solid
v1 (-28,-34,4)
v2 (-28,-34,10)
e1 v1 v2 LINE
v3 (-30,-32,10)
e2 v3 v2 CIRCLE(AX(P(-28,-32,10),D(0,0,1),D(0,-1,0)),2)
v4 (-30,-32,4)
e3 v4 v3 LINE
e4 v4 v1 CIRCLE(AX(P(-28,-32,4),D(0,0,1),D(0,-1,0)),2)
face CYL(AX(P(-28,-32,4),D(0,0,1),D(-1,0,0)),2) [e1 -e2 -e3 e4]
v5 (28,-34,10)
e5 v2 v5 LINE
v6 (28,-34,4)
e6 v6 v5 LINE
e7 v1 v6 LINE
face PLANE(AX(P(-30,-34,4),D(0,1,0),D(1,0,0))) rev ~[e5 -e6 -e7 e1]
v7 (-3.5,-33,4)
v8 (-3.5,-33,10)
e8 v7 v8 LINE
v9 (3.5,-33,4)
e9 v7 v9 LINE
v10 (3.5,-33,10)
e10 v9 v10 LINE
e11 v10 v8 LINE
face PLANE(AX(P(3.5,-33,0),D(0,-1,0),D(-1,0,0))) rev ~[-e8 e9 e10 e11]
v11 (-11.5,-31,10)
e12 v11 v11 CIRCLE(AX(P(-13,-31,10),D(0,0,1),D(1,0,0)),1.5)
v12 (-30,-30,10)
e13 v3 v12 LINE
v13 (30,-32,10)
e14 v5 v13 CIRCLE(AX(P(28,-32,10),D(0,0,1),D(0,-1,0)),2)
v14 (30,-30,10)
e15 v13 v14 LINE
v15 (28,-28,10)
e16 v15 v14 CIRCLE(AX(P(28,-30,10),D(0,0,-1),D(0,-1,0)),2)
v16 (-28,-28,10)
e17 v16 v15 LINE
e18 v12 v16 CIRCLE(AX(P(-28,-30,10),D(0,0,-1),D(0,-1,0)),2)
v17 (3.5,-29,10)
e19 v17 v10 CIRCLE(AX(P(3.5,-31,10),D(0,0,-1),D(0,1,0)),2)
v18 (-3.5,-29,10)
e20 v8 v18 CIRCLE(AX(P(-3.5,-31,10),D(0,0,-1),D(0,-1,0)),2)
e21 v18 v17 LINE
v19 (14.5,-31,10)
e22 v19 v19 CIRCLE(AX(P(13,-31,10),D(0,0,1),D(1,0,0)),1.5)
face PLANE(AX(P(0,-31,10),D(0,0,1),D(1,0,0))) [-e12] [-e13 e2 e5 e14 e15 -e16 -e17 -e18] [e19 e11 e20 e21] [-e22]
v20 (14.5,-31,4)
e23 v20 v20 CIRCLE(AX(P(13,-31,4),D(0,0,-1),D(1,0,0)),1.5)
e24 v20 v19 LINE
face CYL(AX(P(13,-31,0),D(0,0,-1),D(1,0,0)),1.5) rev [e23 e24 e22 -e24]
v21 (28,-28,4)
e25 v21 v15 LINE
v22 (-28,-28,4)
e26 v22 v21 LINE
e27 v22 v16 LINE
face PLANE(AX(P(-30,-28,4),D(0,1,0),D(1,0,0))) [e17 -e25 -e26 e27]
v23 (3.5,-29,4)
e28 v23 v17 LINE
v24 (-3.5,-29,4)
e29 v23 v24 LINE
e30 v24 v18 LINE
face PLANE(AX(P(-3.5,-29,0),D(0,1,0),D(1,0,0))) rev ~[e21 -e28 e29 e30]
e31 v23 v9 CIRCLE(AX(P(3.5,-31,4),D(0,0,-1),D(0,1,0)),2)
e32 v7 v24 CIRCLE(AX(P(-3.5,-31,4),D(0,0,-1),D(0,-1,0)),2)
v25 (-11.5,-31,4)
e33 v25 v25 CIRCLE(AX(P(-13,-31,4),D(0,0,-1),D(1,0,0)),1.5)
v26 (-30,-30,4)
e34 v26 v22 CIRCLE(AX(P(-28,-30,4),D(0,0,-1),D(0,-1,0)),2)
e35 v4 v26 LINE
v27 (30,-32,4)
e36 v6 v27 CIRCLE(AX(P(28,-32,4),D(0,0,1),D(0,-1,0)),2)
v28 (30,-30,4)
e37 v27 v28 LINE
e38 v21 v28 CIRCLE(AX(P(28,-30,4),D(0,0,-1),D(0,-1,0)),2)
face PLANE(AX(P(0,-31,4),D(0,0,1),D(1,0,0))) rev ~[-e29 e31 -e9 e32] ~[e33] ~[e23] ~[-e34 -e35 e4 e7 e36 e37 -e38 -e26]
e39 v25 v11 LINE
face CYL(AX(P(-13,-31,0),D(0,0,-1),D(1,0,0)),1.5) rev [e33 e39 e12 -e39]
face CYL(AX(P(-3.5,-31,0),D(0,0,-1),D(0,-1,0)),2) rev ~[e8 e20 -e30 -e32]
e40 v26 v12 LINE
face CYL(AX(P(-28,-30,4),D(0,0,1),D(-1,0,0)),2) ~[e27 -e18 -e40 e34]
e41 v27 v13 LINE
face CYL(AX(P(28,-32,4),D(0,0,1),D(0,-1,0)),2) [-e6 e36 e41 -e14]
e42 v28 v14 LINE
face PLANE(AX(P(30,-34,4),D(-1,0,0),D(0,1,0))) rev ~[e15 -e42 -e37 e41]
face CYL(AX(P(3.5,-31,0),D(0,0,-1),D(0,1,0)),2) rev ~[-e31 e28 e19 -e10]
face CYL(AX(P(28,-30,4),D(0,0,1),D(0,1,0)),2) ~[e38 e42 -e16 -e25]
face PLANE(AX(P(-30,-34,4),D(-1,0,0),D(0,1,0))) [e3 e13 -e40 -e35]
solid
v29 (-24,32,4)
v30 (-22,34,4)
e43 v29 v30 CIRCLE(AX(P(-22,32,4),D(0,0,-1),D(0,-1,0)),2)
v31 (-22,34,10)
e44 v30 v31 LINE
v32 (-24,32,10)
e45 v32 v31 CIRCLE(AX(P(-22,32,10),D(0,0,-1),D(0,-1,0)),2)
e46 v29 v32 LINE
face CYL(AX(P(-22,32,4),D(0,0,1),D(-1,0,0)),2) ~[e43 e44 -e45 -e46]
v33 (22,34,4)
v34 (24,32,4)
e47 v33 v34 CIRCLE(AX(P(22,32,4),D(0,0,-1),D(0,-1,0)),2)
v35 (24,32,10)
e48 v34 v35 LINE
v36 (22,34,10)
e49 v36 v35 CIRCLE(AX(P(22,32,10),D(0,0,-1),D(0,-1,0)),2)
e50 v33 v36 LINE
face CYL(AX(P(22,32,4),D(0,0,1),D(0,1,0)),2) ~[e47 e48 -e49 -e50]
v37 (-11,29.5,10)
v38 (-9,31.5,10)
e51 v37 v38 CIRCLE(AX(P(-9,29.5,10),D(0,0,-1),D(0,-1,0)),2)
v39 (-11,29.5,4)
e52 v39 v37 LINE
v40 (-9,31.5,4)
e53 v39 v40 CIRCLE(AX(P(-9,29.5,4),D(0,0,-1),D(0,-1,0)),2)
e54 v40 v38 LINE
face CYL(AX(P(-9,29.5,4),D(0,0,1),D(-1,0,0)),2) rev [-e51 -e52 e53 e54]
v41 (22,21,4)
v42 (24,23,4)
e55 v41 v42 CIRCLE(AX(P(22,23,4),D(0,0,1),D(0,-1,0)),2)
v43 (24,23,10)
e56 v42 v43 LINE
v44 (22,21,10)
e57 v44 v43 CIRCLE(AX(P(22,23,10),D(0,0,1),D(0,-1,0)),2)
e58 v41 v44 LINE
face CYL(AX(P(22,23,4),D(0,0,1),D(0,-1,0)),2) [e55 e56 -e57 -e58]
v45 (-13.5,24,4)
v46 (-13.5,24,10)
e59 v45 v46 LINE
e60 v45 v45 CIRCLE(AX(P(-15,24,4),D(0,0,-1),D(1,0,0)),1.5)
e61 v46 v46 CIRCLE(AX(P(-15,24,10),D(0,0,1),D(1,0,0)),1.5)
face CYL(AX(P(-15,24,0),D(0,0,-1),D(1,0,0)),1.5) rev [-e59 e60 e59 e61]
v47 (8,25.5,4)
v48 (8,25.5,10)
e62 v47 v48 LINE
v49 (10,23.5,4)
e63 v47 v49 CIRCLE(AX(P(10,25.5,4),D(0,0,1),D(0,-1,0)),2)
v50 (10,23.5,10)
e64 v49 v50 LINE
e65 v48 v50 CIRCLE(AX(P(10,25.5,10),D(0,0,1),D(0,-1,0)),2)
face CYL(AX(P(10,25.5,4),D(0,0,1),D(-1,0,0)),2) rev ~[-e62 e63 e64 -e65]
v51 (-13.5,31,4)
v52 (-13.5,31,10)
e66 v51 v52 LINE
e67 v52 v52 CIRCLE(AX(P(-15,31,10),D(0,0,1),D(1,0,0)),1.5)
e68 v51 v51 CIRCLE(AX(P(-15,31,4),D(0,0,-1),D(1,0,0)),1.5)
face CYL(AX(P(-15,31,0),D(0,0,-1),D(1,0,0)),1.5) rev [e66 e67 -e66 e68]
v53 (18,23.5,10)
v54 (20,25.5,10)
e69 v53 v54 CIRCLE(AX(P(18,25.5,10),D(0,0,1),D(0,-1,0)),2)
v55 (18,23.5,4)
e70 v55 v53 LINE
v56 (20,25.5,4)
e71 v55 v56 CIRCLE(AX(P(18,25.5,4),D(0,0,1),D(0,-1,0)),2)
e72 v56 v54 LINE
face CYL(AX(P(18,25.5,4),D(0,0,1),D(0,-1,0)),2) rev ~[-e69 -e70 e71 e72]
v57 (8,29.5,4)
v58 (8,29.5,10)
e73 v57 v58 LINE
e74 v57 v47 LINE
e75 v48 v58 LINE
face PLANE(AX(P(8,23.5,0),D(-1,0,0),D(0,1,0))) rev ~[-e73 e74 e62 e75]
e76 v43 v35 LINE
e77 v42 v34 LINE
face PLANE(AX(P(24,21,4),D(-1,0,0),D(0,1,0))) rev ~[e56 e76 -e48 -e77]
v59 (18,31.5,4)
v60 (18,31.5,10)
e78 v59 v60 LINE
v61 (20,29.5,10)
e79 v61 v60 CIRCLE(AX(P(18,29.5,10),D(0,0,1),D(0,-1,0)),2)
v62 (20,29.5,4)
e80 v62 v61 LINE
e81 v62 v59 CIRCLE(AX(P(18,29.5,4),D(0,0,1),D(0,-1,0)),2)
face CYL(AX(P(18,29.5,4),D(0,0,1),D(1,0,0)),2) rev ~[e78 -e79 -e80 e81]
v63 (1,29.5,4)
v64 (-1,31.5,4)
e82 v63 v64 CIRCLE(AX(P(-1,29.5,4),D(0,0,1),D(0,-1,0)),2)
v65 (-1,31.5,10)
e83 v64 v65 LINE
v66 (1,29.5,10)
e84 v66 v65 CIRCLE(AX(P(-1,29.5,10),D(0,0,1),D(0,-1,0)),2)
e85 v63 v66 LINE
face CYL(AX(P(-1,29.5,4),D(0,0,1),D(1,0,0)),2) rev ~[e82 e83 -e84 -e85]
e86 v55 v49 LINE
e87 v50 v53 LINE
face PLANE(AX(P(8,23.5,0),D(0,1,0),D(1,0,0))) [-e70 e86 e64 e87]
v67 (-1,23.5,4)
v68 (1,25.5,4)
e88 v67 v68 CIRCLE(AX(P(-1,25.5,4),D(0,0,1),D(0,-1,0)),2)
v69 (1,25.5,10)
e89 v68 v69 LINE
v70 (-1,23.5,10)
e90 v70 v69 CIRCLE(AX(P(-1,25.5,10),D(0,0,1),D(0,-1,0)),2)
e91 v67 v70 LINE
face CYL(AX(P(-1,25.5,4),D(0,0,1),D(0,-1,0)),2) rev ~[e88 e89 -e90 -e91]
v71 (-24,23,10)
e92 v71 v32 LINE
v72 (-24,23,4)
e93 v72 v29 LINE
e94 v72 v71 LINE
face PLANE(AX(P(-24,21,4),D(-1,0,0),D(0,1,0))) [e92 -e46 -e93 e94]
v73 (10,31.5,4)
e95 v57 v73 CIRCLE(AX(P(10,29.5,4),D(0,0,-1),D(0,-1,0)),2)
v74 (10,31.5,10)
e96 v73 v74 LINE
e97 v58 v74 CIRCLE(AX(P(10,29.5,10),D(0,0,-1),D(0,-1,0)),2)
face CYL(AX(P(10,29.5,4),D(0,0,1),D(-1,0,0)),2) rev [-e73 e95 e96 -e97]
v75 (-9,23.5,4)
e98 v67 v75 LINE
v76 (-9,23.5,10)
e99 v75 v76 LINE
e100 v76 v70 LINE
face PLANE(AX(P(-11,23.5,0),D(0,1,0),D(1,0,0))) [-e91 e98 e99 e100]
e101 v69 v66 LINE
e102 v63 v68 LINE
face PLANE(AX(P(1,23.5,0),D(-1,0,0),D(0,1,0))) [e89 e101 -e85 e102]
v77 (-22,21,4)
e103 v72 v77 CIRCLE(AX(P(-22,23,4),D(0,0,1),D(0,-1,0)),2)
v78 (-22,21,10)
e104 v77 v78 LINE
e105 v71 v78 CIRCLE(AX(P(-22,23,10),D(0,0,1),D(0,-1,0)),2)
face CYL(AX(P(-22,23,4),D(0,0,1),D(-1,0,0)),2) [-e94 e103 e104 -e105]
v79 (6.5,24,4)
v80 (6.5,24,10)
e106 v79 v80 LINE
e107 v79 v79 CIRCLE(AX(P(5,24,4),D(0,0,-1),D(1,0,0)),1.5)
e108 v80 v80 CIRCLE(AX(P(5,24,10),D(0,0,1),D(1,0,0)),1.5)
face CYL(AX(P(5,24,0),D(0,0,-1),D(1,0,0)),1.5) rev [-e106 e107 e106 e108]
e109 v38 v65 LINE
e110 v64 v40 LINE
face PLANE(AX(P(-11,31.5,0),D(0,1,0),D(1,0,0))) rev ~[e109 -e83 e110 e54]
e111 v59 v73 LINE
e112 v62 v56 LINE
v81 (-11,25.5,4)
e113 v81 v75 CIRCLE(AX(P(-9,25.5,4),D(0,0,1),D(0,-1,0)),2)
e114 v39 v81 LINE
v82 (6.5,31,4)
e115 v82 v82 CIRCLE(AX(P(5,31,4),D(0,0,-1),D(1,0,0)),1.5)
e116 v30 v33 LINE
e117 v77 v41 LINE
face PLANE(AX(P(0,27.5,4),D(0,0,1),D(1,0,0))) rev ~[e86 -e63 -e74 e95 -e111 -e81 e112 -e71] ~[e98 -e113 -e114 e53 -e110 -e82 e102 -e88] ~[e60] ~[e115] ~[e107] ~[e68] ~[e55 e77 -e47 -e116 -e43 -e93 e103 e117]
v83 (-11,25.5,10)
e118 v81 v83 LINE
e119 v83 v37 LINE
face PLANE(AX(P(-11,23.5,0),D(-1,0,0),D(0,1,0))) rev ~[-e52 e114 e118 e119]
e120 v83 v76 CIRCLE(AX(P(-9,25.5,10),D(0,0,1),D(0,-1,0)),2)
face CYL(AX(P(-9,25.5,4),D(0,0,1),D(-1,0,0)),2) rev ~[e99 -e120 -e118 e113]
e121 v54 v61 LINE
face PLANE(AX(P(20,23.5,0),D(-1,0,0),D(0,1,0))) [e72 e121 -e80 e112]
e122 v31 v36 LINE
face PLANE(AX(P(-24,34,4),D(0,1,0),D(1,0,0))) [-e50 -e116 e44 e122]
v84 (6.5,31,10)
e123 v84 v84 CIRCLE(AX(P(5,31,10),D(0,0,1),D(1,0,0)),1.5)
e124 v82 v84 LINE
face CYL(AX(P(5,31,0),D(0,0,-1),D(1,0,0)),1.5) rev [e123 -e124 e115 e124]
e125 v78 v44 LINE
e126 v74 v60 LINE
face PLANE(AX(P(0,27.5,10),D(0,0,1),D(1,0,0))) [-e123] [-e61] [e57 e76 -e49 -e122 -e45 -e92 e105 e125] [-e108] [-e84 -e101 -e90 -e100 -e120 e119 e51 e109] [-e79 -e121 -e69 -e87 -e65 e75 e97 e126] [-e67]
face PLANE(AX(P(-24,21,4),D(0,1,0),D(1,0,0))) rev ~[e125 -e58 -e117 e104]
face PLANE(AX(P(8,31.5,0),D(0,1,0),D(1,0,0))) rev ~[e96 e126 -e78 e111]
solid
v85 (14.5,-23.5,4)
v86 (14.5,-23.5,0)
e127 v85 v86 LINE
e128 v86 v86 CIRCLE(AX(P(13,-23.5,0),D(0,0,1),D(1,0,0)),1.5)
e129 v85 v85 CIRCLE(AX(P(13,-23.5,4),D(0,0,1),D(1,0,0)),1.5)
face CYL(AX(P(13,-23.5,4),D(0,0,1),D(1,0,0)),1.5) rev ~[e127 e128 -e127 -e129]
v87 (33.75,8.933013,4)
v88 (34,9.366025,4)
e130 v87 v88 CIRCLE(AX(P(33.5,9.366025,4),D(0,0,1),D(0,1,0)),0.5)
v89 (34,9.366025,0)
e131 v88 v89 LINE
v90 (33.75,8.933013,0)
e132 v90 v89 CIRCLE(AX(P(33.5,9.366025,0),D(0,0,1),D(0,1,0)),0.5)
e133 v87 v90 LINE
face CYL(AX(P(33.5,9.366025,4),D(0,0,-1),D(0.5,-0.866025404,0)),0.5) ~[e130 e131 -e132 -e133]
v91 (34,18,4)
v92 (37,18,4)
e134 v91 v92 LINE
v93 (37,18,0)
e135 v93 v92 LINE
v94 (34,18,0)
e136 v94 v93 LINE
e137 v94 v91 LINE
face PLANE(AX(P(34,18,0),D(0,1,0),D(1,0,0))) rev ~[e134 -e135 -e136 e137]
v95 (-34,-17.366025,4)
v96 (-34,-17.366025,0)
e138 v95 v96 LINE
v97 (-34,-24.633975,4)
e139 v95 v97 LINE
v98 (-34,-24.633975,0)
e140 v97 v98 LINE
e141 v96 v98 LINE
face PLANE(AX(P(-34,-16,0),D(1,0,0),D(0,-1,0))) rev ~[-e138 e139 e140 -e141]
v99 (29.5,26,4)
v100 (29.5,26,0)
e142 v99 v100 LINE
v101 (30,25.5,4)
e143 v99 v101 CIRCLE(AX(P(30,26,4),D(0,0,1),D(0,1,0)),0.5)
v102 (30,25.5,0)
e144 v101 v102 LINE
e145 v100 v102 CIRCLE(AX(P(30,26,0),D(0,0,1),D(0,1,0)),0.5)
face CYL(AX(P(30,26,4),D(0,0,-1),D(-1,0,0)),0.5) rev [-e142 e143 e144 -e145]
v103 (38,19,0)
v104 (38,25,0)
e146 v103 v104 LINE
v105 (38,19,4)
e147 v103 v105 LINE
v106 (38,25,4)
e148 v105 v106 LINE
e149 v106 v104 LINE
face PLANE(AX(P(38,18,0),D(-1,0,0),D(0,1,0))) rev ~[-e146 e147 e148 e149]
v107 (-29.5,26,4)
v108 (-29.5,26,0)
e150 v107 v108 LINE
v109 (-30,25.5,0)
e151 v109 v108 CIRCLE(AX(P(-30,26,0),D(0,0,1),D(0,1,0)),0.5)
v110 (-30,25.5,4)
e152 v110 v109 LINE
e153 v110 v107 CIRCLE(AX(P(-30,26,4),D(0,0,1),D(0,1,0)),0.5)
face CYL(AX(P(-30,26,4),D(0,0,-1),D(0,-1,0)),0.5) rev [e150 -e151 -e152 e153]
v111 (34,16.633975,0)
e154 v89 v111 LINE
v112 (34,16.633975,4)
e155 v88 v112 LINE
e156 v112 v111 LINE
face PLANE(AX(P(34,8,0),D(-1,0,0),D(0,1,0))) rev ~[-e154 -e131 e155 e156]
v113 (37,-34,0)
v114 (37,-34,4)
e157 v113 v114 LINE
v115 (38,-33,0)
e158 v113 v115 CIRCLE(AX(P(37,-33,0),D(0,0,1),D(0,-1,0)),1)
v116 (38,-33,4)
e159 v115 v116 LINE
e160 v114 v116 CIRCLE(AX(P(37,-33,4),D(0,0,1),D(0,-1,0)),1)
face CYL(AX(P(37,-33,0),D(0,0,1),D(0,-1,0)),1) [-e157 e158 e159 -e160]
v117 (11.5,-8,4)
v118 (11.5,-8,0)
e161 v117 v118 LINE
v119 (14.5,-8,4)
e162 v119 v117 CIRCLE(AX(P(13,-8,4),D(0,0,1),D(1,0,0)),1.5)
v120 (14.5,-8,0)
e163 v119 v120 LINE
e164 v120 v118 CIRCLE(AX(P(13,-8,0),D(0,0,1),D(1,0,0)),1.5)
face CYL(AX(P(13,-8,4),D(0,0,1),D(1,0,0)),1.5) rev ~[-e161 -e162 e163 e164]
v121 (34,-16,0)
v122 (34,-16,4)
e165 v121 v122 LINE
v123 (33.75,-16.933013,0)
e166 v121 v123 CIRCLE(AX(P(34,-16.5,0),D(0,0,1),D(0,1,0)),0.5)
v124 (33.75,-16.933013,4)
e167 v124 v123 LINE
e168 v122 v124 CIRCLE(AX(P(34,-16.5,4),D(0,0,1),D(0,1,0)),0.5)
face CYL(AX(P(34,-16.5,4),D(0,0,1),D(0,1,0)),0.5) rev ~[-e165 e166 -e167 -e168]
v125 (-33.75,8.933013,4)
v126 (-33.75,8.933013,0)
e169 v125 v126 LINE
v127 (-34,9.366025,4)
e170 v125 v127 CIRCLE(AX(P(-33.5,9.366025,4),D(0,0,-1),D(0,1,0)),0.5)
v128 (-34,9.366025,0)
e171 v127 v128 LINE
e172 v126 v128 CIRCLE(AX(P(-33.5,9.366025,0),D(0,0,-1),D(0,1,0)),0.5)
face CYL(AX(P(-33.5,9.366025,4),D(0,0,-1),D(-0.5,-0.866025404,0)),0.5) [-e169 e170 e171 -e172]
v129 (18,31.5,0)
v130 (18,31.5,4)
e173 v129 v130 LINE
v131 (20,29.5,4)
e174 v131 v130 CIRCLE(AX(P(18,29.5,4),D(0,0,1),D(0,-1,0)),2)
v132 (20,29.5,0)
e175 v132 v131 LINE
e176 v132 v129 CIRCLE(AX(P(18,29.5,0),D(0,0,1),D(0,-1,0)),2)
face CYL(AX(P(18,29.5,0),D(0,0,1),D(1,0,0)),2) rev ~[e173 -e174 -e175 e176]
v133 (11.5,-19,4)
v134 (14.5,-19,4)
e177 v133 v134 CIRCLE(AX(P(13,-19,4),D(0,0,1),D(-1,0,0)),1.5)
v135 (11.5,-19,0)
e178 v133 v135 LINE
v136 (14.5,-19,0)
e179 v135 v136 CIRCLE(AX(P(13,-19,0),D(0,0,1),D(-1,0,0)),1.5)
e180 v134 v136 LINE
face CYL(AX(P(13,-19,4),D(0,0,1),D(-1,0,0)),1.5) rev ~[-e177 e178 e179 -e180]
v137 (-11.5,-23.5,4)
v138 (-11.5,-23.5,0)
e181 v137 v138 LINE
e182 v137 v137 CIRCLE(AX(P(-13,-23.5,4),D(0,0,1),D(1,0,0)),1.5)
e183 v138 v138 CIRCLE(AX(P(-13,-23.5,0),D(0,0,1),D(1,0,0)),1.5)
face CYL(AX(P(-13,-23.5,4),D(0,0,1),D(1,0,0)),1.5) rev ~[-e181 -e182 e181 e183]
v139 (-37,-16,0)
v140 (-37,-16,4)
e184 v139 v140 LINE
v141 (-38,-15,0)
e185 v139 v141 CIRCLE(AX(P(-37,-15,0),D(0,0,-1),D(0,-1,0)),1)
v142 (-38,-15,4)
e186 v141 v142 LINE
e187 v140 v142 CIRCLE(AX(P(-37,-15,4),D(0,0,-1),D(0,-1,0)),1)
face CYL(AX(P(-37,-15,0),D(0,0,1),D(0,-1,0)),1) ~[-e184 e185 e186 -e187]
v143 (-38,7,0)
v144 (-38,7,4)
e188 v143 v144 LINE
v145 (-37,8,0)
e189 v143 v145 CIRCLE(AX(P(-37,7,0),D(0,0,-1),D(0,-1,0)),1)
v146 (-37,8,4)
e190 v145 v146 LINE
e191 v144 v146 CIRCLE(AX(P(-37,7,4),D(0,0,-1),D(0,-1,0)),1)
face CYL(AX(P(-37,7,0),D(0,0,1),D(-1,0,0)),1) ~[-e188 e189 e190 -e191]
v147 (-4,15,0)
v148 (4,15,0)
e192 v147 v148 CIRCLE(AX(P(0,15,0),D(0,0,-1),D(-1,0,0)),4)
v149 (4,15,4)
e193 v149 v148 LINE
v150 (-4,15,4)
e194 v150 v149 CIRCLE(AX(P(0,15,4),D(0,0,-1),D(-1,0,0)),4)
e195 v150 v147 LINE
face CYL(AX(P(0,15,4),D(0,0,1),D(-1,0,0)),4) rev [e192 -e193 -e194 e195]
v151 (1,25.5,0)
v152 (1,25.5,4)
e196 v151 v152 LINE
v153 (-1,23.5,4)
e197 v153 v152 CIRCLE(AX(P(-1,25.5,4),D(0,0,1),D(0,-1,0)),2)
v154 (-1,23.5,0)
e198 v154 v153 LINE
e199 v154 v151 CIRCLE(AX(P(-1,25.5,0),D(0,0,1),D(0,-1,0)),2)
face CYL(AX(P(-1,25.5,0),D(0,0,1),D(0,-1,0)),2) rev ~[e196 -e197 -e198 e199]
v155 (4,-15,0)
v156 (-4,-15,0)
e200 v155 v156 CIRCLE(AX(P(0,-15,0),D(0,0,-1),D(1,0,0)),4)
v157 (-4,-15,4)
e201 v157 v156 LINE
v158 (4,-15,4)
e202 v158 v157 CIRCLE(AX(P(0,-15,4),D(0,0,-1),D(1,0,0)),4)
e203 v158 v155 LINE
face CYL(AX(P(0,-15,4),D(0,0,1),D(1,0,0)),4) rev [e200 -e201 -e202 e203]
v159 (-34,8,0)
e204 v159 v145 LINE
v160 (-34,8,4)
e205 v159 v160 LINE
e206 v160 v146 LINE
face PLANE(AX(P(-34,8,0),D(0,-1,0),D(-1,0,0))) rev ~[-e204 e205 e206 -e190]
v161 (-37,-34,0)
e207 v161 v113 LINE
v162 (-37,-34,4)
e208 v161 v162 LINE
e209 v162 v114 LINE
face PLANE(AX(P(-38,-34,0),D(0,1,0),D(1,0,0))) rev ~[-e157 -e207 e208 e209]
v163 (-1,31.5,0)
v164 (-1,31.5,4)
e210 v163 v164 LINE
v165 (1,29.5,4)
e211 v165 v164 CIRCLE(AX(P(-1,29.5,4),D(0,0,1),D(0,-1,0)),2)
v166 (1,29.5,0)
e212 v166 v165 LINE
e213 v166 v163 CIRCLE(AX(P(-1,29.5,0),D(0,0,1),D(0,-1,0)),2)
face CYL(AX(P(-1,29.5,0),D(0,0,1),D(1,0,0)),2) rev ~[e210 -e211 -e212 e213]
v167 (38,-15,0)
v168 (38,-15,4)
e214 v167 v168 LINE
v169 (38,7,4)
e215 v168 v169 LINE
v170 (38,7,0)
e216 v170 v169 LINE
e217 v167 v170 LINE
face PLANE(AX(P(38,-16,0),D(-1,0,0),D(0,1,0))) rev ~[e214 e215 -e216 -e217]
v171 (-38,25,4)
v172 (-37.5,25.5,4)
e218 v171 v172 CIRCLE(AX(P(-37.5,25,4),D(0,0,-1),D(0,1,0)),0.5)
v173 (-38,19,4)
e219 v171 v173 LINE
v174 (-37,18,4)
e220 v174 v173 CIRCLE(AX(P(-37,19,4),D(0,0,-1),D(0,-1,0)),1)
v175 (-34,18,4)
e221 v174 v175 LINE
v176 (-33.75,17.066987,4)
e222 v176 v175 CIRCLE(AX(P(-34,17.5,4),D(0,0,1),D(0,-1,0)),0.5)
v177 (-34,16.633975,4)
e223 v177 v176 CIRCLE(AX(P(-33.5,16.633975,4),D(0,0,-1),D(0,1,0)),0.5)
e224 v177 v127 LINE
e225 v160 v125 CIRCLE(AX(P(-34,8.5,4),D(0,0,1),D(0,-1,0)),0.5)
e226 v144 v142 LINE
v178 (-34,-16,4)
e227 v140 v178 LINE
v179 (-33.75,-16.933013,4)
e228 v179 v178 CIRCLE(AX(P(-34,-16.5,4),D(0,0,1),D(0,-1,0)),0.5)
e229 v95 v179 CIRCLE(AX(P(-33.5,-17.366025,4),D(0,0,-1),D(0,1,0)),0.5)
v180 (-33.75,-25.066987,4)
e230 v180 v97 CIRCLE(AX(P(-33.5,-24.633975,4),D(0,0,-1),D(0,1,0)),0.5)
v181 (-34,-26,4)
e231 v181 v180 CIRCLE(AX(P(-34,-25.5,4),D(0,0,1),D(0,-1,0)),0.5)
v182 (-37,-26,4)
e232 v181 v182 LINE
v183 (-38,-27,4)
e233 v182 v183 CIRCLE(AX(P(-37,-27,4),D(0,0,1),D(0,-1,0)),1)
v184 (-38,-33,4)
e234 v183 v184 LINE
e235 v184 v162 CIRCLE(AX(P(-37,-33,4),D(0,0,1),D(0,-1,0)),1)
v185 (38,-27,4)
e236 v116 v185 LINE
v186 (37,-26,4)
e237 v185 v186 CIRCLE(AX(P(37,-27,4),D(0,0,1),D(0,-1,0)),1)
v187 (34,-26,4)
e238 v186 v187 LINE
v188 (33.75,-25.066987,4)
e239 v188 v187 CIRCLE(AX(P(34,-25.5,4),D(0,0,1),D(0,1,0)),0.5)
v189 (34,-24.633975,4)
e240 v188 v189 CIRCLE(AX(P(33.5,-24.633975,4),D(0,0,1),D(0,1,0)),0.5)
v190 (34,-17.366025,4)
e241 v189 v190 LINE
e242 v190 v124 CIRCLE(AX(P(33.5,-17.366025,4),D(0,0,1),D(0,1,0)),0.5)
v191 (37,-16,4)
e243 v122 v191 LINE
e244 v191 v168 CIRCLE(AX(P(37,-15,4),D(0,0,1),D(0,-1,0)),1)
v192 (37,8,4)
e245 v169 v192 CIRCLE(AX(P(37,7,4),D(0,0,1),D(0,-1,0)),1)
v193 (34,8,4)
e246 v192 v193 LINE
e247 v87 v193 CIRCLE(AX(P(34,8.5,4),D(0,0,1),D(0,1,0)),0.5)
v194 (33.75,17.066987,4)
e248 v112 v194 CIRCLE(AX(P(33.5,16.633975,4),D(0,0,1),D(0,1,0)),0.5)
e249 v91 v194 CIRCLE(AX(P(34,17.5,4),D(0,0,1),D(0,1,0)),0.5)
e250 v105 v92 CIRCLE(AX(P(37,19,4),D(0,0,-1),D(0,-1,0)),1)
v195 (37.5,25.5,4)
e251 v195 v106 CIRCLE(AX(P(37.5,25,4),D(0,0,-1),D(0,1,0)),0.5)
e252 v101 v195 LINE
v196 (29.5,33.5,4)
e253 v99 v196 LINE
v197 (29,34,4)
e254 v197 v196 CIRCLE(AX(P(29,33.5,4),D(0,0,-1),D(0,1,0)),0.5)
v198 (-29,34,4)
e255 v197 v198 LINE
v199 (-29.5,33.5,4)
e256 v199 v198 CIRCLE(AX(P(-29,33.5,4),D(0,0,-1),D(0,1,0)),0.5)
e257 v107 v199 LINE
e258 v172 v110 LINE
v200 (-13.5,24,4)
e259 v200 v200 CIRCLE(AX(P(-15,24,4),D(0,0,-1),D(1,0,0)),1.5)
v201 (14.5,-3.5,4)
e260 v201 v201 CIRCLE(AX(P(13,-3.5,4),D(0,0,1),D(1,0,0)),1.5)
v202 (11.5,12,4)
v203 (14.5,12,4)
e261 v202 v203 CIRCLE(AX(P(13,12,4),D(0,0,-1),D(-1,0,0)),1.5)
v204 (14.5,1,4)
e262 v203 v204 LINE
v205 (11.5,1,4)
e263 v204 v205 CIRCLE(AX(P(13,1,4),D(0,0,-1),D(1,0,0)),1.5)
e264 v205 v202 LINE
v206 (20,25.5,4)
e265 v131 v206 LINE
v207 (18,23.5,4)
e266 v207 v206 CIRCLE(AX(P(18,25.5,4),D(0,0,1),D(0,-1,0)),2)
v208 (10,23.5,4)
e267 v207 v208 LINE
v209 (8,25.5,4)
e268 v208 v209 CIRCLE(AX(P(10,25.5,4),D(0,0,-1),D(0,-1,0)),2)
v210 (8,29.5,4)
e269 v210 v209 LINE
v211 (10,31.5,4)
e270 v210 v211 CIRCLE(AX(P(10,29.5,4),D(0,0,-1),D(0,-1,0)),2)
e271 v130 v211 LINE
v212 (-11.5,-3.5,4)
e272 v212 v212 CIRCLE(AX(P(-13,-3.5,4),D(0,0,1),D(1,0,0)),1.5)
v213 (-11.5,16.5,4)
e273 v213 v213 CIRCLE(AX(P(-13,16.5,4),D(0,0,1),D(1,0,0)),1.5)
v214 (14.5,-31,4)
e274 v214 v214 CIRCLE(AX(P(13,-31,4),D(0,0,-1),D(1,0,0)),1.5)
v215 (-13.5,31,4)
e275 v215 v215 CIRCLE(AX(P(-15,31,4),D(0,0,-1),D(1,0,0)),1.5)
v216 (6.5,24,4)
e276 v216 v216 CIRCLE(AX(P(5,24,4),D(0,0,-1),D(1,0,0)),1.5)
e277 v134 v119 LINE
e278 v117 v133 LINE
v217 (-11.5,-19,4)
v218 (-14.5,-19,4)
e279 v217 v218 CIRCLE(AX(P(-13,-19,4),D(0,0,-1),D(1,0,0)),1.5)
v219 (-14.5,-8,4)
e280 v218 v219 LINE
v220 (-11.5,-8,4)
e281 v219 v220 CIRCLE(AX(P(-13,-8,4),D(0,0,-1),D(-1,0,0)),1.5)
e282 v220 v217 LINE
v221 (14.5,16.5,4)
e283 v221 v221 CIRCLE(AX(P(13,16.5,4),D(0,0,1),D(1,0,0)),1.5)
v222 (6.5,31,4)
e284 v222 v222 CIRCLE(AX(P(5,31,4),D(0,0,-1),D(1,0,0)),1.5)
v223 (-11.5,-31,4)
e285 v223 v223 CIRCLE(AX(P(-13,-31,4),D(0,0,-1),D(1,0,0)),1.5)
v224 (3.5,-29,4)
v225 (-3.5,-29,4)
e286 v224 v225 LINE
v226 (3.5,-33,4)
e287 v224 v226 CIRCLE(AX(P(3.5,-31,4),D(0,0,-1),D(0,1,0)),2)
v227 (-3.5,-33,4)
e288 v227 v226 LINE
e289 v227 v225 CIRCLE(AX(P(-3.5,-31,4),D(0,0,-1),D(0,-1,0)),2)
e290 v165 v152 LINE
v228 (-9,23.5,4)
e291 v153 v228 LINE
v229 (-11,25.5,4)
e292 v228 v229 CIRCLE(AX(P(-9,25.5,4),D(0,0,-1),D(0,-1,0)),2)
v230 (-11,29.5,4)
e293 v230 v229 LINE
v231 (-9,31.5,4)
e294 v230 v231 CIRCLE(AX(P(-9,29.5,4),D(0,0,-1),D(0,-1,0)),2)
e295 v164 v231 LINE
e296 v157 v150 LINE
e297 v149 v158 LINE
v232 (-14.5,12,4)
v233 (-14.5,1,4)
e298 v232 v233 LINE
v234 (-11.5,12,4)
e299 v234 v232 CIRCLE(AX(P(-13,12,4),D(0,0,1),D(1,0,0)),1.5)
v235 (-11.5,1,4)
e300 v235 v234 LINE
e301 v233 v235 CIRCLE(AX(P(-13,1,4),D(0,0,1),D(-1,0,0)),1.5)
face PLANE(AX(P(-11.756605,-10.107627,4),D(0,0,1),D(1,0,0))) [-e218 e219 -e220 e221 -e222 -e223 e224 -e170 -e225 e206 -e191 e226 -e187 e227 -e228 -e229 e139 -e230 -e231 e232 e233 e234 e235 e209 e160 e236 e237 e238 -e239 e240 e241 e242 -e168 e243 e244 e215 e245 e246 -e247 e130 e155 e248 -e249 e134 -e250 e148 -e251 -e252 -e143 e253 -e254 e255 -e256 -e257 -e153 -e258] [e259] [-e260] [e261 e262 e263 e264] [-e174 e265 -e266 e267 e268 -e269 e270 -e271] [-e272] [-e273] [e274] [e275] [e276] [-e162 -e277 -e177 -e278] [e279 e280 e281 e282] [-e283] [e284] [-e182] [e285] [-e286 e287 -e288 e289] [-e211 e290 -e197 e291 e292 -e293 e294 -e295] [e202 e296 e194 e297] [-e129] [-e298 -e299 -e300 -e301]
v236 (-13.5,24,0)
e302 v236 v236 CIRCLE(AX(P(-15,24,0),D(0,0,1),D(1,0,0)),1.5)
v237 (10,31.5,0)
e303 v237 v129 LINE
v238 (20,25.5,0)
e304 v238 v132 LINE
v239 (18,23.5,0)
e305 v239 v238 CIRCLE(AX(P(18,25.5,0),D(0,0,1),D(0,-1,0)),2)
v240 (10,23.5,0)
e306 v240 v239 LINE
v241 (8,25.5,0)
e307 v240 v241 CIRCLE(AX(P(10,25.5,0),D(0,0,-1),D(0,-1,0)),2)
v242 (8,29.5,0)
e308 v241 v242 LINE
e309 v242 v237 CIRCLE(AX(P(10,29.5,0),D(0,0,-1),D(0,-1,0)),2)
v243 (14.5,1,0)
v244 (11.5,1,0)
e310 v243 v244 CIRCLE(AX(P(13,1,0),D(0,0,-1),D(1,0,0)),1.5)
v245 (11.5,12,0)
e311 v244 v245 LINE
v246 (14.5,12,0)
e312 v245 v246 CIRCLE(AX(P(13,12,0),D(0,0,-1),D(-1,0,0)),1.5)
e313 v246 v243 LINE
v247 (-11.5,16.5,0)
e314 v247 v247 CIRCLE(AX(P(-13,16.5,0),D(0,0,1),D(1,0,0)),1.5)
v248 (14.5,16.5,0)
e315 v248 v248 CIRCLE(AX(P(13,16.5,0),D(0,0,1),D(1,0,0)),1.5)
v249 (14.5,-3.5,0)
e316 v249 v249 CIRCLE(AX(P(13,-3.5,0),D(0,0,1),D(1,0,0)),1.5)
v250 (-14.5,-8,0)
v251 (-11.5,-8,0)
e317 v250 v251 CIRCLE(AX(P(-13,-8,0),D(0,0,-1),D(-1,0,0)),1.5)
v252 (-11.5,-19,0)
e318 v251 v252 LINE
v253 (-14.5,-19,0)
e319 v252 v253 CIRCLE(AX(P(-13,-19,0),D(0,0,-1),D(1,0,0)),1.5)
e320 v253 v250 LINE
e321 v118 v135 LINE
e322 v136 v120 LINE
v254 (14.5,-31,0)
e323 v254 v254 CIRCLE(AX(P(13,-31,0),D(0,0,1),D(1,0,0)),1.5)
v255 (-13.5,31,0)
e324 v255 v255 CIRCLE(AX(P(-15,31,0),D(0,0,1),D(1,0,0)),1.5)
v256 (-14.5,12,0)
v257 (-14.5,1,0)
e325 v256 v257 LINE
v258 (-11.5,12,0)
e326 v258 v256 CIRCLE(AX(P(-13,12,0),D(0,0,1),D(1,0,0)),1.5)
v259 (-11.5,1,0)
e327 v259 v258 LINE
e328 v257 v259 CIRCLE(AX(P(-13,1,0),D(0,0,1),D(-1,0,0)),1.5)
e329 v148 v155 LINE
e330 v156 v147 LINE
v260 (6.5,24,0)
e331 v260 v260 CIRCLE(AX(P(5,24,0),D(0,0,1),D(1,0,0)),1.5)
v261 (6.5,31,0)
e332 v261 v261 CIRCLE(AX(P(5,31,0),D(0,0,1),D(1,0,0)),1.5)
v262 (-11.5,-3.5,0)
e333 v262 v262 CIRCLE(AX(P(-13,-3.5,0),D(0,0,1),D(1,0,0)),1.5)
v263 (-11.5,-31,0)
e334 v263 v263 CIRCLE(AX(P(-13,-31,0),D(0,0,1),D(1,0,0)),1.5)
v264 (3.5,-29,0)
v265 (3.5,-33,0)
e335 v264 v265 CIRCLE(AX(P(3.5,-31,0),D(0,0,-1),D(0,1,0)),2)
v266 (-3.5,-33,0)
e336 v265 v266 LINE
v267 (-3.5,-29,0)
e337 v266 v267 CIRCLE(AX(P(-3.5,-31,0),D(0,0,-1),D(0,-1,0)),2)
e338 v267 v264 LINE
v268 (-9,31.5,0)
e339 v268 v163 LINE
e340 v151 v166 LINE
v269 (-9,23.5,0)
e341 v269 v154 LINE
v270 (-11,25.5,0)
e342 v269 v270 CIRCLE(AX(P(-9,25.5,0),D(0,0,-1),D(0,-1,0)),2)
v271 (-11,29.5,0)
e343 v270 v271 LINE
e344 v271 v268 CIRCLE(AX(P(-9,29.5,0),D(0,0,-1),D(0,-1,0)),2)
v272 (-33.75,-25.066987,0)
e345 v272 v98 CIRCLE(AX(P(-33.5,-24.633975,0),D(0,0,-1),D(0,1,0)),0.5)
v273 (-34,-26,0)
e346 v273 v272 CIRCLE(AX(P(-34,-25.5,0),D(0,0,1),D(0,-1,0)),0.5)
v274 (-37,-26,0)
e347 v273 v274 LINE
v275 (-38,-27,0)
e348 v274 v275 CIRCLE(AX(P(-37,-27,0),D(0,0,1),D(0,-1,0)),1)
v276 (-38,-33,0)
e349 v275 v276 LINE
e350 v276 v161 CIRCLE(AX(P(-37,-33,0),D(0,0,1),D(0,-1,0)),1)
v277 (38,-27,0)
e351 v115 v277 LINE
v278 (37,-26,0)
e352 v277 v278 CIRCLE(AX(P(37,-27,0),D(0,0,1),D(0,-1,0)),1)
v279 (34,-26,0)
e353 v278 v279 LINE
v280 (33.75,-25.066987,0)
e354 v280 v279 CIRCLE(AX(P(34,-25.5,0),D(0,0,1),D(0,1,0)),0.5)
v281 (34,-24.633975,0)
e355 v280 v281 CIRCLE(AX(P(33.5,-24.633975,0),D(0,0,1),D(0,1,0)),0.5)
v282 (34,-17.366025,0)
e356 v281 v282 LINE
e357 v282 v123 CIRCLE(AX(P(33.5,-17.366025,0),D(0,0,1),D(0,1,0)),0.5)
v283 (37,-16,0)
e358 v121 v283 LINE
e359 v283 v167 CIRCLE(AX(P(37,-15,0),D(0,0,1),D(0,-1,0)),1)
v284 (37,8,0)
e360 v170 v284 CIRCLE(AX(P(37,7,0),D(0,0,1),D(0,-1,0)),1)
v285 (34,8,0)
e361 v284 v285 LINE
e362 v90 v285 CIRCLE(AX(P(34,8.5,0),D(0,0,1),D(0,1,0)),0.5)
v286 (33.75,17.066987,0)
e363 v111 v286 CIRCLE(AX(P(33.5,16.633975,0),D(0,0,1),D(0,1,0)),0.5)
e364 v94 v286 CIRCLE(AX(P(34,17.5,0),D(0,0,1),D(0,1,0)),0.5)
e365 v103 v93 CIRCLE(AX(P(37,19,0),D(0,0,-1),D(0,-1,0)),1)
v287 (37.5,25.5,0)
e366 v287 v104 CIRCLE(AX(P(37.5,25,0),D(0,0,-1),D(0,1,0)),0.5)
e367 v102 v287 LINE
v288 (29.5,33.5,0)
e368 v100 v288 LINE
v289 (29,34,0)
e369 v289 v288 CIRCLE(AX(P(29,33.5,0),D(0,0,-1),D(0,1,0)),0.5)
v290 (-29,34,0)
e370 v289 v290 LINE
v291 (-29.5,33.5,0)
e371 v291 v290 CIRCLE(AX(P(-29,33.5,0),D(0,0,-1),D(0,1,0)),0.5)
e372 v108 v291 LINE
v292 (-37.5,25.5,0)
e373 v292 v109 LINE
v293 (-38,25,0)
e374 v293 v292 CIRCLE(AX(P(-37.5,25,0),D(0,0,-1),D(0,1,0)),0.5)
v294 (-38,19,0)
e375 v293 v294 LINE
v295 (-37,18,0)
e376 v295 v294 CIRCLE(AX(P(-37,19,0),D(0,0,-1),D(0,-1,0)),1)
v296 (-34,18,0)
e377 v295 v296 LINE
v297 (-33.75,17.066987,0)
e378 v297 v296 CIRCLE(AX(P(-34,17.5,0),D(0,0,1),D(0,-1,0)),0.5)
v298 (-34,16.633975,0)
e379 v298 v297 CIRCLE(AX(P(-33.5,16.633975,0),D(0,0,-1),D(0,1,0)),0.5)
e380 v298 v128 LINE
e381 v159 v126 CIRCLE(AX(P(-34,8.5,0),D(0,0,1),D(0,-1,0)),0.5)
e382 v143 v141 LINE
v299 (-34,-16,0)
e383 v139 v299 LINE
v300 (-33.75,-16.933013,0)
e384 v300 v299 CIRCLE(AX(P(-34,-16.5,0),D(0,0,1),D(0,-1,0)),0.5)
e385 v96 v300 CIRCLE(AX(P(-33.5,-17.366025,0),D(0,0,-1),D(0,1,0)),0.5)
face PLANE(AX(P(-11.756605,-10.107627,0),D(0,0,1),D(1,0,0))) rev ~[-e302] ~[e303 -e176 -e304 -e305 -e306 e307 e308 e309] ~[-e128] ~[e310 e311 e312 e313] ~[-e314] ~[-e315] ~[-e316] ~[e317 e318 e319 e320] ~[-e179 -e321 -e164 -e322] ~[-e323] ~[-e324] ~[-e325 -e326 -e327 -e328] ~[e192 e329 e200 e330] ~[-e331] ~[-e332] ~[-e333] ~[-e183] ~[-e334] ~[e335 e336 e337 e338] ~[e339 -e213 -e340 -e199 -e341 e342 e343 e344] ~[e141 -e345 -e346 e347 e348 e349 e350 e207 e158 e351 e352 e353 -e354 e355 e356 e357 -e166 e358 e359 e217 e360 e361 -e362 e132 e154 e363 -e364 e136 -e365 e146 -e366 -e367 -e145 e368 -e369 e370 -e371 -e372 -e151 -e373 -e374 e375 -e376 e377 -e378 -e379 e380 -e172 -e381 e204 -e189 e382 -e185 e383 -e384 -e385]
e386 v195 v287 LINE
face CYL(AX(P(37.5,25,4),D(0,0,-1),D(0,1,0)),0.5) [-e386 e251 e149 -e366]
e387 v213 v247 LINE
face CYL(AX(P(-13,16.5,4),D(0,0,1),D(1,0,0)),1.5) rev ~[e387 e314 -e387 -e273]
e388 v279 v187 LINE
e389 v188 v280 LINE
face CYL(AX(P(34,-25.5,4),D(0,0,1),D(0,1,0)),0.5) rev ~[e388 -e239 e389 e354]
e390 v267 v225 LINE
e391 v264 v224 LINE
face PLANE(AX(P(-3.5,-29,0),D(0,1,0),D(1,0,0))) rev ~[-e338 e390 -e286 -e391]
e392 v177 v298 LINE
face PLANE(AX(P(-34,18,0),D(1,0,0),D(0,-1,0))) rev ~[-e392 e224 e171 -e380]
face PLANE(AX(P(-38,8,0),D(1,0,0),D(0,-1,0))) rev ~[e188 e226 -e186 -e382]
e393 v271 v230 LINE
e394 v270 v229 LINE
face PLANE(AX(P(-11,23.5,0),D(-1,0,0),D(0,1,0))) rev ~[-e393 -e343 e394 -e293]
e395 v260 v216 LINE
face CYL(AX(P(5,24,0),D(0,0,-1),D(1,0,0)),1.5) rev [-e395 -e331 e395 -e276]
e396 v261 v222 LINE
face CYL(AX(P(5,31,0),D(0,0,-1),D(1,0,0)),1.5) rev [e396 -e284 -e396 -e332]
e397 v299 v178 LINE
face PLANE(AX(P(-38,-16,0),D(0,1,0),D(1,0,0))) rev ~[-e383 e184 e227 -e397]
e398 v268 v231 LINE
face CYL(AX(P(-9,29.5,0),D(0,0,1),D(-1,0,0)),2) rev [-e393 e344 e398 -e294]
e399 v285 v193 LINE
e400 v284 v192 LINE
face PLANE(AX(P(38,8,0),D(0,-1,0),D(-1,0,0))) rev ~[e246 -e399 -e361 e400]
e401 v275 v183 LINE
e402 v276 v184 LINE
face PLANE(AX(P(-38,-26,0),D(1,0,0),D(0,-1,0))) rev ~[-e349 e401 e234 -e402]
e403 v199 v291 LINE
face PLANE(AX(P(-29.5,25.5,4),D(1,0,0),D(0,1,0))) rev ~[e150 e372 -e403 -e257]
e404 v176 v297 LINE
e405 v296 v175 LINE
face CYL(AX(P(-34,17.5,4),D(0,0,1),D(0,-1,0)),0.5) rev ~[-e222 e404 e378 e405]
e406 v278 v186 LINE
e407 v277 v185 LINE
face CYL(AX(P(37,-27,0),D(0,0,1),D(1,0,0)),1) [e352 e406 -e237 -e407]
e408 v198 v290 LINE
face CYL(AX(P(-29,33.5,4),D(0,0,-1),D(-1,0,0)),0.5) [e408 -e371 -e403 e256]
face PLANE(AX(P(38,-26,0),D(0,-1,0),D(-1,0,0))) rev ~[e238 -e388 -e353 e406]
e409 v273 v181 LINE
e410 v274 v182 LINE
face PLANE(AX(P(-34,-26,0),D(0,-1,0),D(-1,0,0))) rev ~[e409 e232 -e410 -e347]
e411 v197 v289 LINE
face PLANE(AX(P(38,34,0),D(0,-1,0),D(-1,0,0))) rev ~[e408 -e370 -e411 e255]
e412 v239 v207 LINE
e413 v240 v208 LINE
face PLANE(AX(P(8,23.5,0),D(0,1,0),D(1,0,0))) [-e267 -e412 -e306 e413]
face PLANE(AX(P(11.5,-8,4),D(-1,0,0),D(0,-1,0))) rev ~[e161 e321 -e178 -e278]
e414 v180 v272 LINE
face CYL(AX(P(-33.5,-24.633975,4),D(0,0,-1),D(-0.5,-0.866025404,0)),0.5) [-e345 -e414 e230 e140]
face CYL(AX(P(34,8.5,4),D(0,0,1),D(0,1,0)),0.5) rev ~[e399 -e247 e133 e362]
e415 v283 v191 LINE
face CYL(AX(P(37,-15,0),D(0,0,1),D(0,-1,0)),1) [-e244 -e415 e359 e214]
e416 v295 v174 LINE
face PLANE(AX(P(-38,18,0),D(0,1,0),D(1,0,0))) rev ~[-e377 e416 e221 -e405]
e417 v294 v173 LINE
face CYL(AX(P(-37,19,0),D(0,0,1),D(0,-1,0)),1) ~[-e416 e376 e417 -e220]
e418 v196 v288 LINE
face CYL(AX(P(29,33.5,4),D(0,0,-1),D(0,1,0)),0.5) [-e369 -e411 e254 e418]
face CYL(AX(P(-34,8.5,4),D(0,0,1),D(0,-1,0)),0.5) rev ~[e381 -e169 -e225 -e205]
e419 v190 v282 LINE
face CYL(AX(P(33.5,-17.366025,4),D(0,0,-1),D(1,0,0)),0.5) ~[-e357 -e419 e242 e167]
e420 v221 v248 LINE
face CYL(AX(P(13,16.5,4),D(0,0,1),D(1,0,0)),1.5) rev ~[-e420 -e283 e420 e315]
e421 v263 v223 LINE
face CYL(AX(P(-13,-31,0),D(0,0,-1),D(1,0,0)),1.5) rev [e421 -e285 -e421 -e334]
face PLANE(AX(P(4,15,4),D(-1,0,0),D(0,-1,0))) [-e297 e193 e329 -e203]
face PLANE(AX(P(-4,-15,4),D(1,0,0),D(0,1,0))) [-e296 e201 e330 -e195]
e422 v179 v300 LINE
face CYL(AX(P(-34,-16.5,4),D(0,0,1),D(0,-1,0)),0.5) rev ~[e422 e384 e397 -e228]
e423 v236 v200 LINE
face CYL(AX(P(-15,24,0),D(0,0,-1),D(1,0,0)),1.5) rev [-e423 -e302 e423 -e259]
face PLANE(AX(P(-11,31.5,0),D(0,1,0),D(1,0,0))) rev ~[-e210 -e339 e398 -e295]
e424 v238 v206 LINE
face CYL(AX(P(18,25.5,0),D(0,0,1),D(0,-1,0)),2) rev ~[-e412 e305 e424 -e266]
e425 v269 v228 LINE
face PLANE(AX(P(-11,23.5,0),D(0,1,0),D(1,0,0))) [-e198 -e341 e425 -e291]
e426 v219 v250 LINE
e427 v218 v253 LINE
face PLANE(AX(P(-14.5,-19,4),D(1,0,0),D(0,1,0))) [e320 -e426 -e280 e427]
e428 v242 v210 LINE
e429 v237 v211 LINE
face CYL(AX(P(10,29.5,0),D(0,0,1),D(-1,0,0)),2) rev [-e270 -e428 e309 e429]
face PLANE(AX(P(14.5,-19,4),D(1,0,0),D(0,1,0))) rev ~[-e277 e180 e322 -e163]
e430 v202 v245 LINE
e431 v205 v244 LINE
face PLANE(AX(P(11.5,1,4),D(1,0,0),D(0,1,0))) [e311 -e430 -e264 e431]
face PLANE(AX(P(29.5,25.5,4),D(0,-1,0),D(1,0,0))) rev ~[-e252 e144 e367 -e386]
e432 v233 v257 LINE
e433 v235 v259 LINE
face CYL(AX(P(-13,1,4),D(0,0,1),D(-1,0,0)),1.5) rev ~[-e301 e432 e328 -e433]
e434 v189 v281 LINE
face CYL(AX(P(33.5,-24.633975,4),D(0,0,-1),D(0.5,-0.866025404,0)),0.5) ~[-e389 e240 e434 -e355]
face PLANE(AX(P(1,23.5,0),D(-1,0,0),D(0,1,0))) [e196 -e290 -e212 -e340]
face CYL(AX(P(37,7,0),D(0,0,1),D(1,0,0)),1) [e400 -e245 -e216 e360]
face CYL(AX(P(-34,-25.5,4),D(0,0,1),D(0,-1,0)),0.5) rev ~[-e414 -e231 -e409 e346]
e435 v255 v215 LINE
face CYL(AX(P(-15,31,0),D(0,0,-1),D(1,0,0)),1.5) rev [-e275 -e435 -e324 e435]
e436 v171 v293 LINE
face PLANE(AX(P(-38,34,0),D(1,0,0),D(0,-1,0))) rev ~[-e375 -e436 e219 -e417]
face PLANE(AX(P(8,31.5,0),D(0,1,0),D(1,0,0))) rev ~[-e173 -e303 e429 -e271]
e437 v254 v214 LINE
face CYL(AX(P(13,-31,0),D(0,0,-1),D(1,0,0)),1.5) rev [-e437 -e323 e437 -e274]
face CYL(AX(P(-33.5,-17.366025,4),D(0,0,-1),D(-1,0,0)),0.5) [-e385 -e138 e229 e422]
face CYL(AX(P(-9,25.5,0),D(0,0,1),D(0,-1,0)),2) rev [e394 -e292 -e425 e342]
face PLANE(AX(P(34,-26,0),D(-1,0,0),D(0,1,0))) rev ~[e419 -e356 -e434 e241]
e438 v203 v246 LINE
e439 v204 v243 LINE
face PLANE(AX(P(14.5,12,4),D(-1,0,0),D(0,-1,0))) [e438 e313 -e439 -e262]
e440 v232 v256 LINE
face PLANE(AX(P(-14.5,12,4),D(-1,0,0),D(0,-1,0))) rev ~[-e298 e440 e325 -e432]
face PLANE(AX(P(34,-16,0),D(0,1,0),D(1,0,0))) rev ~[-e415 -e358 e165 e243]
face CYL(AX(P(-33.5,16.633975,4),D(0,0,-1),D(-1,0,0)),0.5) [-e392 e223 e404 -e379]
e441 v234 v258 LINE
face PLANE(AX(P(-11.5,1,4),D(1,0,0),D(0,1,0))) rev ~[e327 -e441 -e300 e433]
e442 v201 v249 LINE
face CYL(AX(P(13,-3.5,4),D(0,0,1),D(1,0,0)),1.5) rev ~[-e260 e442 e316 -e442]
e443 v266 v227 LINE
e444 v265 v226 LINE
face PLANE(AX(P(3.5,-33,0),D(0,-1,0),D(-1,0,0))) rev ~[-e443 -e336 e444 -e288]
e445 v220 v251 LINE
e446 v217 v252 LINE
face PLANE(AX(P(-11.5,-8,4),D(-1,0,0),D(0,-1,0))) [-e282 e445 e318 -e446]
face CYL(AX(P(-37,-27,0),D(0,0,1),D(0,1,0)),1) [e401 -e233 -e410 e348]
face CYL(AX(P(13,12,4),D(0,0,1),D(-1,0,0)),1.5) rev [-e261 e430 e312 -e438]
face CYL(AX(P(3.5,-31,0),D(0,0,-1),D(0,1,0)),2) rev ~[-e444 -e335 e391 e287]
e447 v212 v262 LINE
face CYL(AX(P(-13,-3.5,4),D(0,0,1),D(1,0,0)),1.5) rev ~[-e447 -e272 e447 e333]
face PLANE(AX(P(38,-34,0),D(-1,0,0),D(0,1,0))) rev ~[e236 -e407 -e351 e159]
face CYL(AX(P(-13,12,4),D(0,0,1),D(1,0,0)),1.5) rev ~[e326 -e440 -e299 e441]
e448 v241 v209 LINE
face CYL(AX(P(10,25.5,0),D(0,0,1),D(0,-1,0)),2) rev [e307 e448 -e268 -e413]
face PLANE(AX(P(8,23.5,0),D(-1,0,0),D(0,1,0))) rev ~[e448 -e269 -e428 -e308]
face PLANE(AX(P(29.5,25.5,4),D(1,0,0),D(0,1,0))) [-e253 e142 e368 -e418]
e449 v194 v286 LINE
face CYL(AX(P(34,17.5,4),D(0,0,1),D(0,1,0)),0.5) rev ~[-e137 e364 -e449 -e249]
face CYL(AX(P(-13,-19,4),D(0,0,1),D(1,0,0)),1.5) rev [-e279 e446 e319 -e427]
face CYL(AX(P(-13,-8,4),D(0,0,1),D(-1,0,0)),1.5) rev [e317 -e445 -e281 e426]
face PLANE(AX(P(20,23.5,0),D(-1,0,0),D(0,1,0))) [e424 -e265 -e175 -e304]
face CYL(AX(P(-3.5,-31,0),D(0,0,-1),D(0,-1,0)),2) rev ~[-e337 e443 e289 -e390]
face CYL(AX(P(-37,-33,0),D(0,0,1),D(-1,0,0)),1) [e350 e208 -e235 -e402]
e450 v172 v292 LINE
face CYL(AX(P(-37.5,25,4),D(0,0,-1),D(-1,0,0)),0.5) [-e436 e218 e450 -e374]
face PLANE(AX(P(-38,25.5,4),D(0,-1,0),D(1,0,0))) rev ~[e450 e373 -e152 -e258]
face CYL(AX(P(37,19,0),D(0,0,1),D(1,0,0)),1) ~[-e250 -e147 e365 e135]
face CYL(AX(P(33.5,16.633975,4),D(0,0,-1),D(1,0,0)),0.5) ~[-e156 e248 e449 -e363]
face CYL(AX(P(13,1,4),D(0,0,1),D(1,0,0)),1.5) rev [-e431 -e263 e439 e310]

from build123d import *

# Parameters (mm, degrees)
EXTRUDE_1_DEPTH      = 4
SKETCH_3_R           = 1.5
CUT_EXTRUDE_2_DEPTH  = 4
SKETCH_4_W           = 48
SKETCH_4_H           = 13
EXTRUDE_2_DEPTH      = 6
CUT_EXTRUDE_START    = -10
SKETCH_5_R           = 1.5
CUT_EXTRUDE_3_DEPTH  = 10
SKETCH_6_W           = 60
SKETCH_6_H           = 6
EXTRUDE_3_DEPTH      = 6
SKETCH_7_R           = 1.5
CUT_EXTRUDE_4_DEPTH  = 10
SKETCH_8_W           = 12
SKETCH_8_H           = 8
CUT_EXTRUDE_5_DEPTH  = 10
CUT_EXTRUDE_6_DEPTH  = 10
FILLET_1_R           = 2
FILLET_2_R           = 2
CUT_EXTRUDE_7_DEPTH  = 4
CUT_EXTRUDE_8_DEPTH  = 4
CUT_EXTRUDE_9_DEPTH  = 4
FILLET_3_R           = 0.5
FILLET_4_R           = 2
FILLET_5_R           = 1
SKETCH_13_W          = 8.5
SKETCH_13_H          = 8.5
CUT_EXTRUDE_10_DEPTH = 4
FILLET_6_R           = 0.5


with BuildPart() as part:
    # 草图1 → 凸台-拉伸1 (new body)
    with BuildSketch(Plane.XY):
        Polygon((-38, -26), (-38, -34), (38, -34), (-38, 34), (-38, 18), (-34, 18), (-34, 8), (-38, 8), (-38, -16), (-34, -16), (-34, -26), align=None)
        Polygon((-38, 34), (38, -34), (38, -26), (34, -26), (34, -16), (38, -16), (38, 8), (34, 8), (34, 18), (38, 18), (38, 34), align=None)
    extrude(amount=EXTRUDE_1_DEPTH)

    # 草图3 → 切除-拉伸2 (cut)
    with BuildSketch(Plane.XY.offset(4)):
        with Locations((13, 16.5)):
            Circle(SKETCH_3_R)
        with Locations((13, -3.5)):
            Circle(SKETCH_3_R)
        with Locations((13, -23.5)):
            Circle(SKETCH_3_R)
        with Locations((-13, -23.5)):
            Circle(SKETCH_3_R)
        with Locations((-13, -3.5)):
            Circle(SKETCH_3_R)
        with Locations((-13, 16.5)):
            Circle(SKETCH_3_R)
    extrude(amount=-CUT_EXTRUDE_2_DEPTH, mode=Mode.SUBTRACT)


with BuildPart() as body_2:
    # 草图4 → 凸台-拉伸2 (new body)
    with BuildSketch(Plane.XY.offset(4)):
        with Locations((0, 27.5)):
            Rectangle(SKETCH_4_W, SKETCH_4_H)
    extrude(amount=EXTRUDE_2_DEPTH)


with BuildPart() as cut_extrude_3_tool:
    # 草图5 → 切除-拉伸3 (new body)
    with BuildSketch(Plane.XY.offset(10).offset(CUT_EXTRUDE_START)):
        with Locations((5, 31)):
            Circle(SKETCH_5_R)
        with Locations((5, 24)):
            Circle(SKETCH_5_R)
        with Locations((-15, 24)):
            Circle(SKETCH_5_R)
        with Locations((-15, 31)):
            Circle(SKETCH_5_R)
    extrude(amount=CUT_EXTRUDE_3_DEPTH)


with BuildPart() as part_1:
    add(part.part)

    # 切除-拉伸3: cut by cut_extrude_3_tool
    add(cut_extrude_3_tool.part, mode=Mode.SUBTRACT)


with BuildPart() as body_2_1:
    add(body_2.part)

    # 切除-拉伸3: cut by cut_extrude_3_tool
    add(cut_extrude_3_tool.part, mode=Mode.SUBTRACT)


with BuildPart() as body_3:
    # 草图6 → 凸台-拉伸3 (new body)
    with BuildSketch(Plane.XY.offset(4)):
        with Locations((0, -31)):
            Rectangle(SKETCH_6_W, SKETCH_6_H)
    extrude(amount=EXTRUDE_3_DEPTH)


with BuildPart() as cut_extrude_4_tool:
    # 草图7 → 切除-拉伸4 (new body)
    with BuildSketch(Plane.XY.offset(10).offset(CUT_EXTRUDE_START)):
        with Locations((-13, -31)):
            Circle(SKETCH_7_R)
        with Locations((13, -31)):
            Circle(SKETCH_7_R)
        with Locations((-3, -31)):
            Circle(SKETCH_7_R)
        with Locations((3, -31)):
            Circle(SKETCH_7_R)
    extrude(amount=CUT_EXTRUDE_4_DEPTH)


with BuildPart() as part_2:
    add(part_1.part)

    # 切除-拉伸4: cut by cut_extrude_4_tool
    add(cut_extrude_4_tool.part, mode=Mode.SUBTRACT)


with BuildPart() as body_3_1:
    add(body_3.part)

    # 切除-拉伸4: cut by cut_extrude_4_tool
    add(cut_extrude_4_tool.part, mode=Mode.SUBTRACT)


with BuildPart() as cut_extrude_5_tool:
    # 草图8 → 切除-拉伸5 (new body)
    with BuildSketch(Plane.XY.offset(10).offset(CUT_EXTRUDE_START)):
        with Locations((-5, 27.5)):
            Rectangle(SKETCH_8_W, SKETCH_8_H)
        with Locations((14, 27.5)):
            Rectangle(SKETCH_8_W, SKETCH_8_H)
    extrude(amount=CUT_EXTRUDE_5_DEPTH)


with BuildPart() as part_3:
    add(part_2.part)

    # 切除-拉伸5: cut by cut_extrude_5_tool
    add(cut_extrude_5_tool.part, mode=Mode.SUBTRACT)


with BuildPart() as body_2_2:
    add(body_2_1.part)

    # 切除-拉伸5: cut by cut_extrude_5_tool
    add(cut_extrude_5_tool.part, mode=Mode.SUBTRACT)

    # 圆角2
    fillet_2_edges = [body_2_2.edges().sort_by_distance(p)[0] for p in [
        (1, 31.5, 7),
        (1, 23.5, 7),
        (-11, 23.5, 7),
        (-11, 31.5, 7),
        (20, 31.5, 7),
        (20, 23.5, 7),
        (8, 23.5, 7),
        (8, 31.5, 7),
        (24, 21, 7),
        (-24, 21, 7),
        (-24, 34, 7),
        (24, 34, 7),
    ]]
    fillet(fillet_2_edges, radius=FILLET_2_R)


with BuildPart() as cut_extrude_6_tool:
    # 草图9 → 切除-拉伸6 (new body)
    with BuildSketch(Plane.XY.offset(10).offset(CUT_EXTRUDE_START)):
        with BuildLine():
            Line((-3.5, -29), (3.5, -29))
            ThreePointArc((3.5, -29), (5.5, -31), (3.5, -33))
            Line((3.5, -33), (-3.5, -33))
            ThreePointArc((-3.5, -33), (-5.5, -31), (-3.5, -29))
        make_face()
    extrude(amount=CUT_EXTRUDE_6_DEPTH)


with BuildPart() as part_4:
    add(part_3.part)

    # 切除-拉伸6: cut by cut_extrude_6_tool
    add(cut_extrude_6_tool.part, mode=Mode.SUBTRACT)

    # 草图10 → 切除-拉伸7 (cut)
    with BuildSketch(Plane.XY.offset(4)):
        with BuildLine():
            ThreePointArc((34, -25), (33.5, -25.5), (34, -26))
            Line((34, -26), (34, -25))
        make_face()
        with BuildLine():
            ThreePointArc((34, -16), (33.5, -16.5), (34, -17))
            Line((34, -17), (34, -16))
        make_face()
        with BuildLine():
            ThreePointArc((34, 9), (33.5, 8.5), (34, 8))
            Line((34, 8), (34, 9))
        make_face()
        with BuildLine():
            ThreePointArc((34, 18), (33.5, 17.5), (34, 17))
            Line((34, 17), (34, 18))
        make_face()
        with BuildLine():
            Line((-34, 18), (-34, 17))
            ThreePointArc((-34, 17), (-33.5, 17.5), (-34, 18))
        make_face()
        with BuildLine():
            Line((-34, 9), (-34, 8))
            ThreePointArc((-34, 8), (-33.5, 8.5), (-34, 9))
        make_face()
        with BuildLine():
            Line((-34, -25), (-34, -26))
            ThreePointArc((-34, -26), (-33.5, -25.5), (-34, -25))
        make_face()
        with BuildLine():
            Line((-34, -16), (-34, -17))
            ThreePointArc((-34, -17), (-33.5, -16.5), (-34, -16))
        make_face()
    extrude(amount=-CUT_EXTRUDE_7_DEPTH, mode=Mode.SUBTRACT)

    # 草图11 → 切除-拉伸8 (cut)
    with BuildSketch(Plane.XY.offset(4)):
        with BuildLine():
            Line((-14.5, 12), (-14.5, 1))
            ThreePointArc((-14.5, 1), (-13, -0.5), (-11.5, 1))
            Line((-11.5, 1), (-11.5, 12))
            ThreePointArc((-11.5, 12), (-13, 13.5), (-14.5, 12))
        make_face()
        with BuildLine():
            ThreePointArc((14.5, 1), (13, -0.5), (11.5, 1))
            Line((11.5, 1), (11.5, 12))
            ThreePointArc((11.5, 12), (13, 13.5), (14.5, 12))
            Line((14.5, 12), (14.5, 1))
        make_face()
        with BuildLine():
            Line((14.5, -19), (14.5, -8))
            ThreePointArc((14.5, -8), (13, -6.5), (11.5, -8))
            Line((11.5, -8), (11.5, -19))
            ThreePointArc((11.5, -19), (13, -20.5), (14.5, -19))
        make_face()
        with BuildLine():
            ThreePointArc((-14.5, -8), (-13, -6.5), (-11.5, -8))
            Line((-11.5, -8), (-11.5, -19))
            ThreePointArc((-11.5, -19), (-13, -20.5), (-14.5, -19))
            Line((-14.5, -19), (-14.5, -8))
        make_face()
    extrude(amount=-CUT_EXTRUDE_8_DEPTH, mode=Mode.SUBTRACT)

    # 草图12 → 切除-拉伸9 (cut)
    with BuildSketch(Plane.XY.offset(4)):
        with BuildLine():
            Line((4, 15), (4, -15))
            ThreePointArc((4, -15), (0, -19), (-4, -15))
            Line((-4, -15), (-4, 15))
            ThreePointArc((-4, 15), (0, 19), (4, 15))
        make_face()
    extrude(amount=-CUT_EXTRUDE_9_DEPTH, mode=Mode.SUBTRACT)

    # 圆角3
    fillet_3_edges = [part_4.edges().sort_by_distance(p)[0] for p in [
        (34, -17, 2),
        (34, 9, 2),
        (34, 17, 2),
        (-34, 17, 2),
        (-34, -17, 2),
        (-34, -25, 2),
        (-34, 9, 2),
        (34, -25, 2),
    ]]
    fillet(fillet_3_edges, radius=FILLET_3_R)

    # 圆角4
    fillet_4_edges = [part_4.edges().sort_by_distance(p)[0] for p in [
        (1, 31.5, 2),
        (1, 23.5, 2),
        (-11, 23.5, 2),
        (-11, 31.5, 2),
        (20, 31.5, 2),
        (20, 23.5, 2),
        (8, 23.5, 2),
        (8, 31.5, 2),
    ]]
    fillet(fillet_4_edges, radius=FILLET_4_R)

    # 圆角5
    fillet_5_edges = [part_4.edges().sort_by_distance(p)[0] for p in [
        (-38, -16, 2),
        (-38, 8, 2),
        (-38, 18, 2),
        (-38, 34, 2),
        (38, 34, 2),
        (38, 18, 2),
        (38, 8, 2),
        (38, -16, 2),
        (38, -26, 2),
        (38, -34, 2),
        (-38, -34, 2),
        (-38, -26, 2),
    ]]
    fillet(fillet_5_edges, radius=FILLET_5_R)

    # 草图13 → 切除-拉伸10 (cut)
    with BuildSketch(Plane.XY.offset(4)):
        with Locations((-33.75, 29.75)):
            Rectangle(SKETCH_13_W, SKETCH_13_H)
        with Locations((33.75, 29.75)):
            Rectangle(SKETCH_13_W, SKETCH_13_H)
    extrude(amount=-CUT_EXTRUDE_10_DEPTH, mode=Mode.SUBTRACT)

    # 圆角6
    fillet_6_edges = [part_4.edges().sort_by_distance(p)[0] for p in [
        (-38, 25.5, 2),
        (-29.5, 34, 2),
        (-29.5, 25.5, 2),
        (29.5, 34, 2),
        (38, 25.5, 2),
        (29.5, 25.5, 2),
    ]]
    fillet(fillet_6_edges, radius=FILLET_6_R)


with BuildPart() as body_3_2:
    add(body_3_1.part)

    # 切除-拉伸6: cut by cut_extrude_6_tool
    add(cut_extrude_6_tool.part, mode=Mode.SUBTRACT)

    # 圆角1
    fillet_1_edges = [body_3_2.edges().sort_by_distance(p)[0] for p in [
        (30, -34, 7),
        (-30, -34, 7),
        (-30, -28, 7),
        (30, -28, 7),
    ]]
    fillet(fillet_1_edges, radius=FILLET_1_R)


solid = Compound([body_2_2.part, part_4.part, body_3_2.part])
